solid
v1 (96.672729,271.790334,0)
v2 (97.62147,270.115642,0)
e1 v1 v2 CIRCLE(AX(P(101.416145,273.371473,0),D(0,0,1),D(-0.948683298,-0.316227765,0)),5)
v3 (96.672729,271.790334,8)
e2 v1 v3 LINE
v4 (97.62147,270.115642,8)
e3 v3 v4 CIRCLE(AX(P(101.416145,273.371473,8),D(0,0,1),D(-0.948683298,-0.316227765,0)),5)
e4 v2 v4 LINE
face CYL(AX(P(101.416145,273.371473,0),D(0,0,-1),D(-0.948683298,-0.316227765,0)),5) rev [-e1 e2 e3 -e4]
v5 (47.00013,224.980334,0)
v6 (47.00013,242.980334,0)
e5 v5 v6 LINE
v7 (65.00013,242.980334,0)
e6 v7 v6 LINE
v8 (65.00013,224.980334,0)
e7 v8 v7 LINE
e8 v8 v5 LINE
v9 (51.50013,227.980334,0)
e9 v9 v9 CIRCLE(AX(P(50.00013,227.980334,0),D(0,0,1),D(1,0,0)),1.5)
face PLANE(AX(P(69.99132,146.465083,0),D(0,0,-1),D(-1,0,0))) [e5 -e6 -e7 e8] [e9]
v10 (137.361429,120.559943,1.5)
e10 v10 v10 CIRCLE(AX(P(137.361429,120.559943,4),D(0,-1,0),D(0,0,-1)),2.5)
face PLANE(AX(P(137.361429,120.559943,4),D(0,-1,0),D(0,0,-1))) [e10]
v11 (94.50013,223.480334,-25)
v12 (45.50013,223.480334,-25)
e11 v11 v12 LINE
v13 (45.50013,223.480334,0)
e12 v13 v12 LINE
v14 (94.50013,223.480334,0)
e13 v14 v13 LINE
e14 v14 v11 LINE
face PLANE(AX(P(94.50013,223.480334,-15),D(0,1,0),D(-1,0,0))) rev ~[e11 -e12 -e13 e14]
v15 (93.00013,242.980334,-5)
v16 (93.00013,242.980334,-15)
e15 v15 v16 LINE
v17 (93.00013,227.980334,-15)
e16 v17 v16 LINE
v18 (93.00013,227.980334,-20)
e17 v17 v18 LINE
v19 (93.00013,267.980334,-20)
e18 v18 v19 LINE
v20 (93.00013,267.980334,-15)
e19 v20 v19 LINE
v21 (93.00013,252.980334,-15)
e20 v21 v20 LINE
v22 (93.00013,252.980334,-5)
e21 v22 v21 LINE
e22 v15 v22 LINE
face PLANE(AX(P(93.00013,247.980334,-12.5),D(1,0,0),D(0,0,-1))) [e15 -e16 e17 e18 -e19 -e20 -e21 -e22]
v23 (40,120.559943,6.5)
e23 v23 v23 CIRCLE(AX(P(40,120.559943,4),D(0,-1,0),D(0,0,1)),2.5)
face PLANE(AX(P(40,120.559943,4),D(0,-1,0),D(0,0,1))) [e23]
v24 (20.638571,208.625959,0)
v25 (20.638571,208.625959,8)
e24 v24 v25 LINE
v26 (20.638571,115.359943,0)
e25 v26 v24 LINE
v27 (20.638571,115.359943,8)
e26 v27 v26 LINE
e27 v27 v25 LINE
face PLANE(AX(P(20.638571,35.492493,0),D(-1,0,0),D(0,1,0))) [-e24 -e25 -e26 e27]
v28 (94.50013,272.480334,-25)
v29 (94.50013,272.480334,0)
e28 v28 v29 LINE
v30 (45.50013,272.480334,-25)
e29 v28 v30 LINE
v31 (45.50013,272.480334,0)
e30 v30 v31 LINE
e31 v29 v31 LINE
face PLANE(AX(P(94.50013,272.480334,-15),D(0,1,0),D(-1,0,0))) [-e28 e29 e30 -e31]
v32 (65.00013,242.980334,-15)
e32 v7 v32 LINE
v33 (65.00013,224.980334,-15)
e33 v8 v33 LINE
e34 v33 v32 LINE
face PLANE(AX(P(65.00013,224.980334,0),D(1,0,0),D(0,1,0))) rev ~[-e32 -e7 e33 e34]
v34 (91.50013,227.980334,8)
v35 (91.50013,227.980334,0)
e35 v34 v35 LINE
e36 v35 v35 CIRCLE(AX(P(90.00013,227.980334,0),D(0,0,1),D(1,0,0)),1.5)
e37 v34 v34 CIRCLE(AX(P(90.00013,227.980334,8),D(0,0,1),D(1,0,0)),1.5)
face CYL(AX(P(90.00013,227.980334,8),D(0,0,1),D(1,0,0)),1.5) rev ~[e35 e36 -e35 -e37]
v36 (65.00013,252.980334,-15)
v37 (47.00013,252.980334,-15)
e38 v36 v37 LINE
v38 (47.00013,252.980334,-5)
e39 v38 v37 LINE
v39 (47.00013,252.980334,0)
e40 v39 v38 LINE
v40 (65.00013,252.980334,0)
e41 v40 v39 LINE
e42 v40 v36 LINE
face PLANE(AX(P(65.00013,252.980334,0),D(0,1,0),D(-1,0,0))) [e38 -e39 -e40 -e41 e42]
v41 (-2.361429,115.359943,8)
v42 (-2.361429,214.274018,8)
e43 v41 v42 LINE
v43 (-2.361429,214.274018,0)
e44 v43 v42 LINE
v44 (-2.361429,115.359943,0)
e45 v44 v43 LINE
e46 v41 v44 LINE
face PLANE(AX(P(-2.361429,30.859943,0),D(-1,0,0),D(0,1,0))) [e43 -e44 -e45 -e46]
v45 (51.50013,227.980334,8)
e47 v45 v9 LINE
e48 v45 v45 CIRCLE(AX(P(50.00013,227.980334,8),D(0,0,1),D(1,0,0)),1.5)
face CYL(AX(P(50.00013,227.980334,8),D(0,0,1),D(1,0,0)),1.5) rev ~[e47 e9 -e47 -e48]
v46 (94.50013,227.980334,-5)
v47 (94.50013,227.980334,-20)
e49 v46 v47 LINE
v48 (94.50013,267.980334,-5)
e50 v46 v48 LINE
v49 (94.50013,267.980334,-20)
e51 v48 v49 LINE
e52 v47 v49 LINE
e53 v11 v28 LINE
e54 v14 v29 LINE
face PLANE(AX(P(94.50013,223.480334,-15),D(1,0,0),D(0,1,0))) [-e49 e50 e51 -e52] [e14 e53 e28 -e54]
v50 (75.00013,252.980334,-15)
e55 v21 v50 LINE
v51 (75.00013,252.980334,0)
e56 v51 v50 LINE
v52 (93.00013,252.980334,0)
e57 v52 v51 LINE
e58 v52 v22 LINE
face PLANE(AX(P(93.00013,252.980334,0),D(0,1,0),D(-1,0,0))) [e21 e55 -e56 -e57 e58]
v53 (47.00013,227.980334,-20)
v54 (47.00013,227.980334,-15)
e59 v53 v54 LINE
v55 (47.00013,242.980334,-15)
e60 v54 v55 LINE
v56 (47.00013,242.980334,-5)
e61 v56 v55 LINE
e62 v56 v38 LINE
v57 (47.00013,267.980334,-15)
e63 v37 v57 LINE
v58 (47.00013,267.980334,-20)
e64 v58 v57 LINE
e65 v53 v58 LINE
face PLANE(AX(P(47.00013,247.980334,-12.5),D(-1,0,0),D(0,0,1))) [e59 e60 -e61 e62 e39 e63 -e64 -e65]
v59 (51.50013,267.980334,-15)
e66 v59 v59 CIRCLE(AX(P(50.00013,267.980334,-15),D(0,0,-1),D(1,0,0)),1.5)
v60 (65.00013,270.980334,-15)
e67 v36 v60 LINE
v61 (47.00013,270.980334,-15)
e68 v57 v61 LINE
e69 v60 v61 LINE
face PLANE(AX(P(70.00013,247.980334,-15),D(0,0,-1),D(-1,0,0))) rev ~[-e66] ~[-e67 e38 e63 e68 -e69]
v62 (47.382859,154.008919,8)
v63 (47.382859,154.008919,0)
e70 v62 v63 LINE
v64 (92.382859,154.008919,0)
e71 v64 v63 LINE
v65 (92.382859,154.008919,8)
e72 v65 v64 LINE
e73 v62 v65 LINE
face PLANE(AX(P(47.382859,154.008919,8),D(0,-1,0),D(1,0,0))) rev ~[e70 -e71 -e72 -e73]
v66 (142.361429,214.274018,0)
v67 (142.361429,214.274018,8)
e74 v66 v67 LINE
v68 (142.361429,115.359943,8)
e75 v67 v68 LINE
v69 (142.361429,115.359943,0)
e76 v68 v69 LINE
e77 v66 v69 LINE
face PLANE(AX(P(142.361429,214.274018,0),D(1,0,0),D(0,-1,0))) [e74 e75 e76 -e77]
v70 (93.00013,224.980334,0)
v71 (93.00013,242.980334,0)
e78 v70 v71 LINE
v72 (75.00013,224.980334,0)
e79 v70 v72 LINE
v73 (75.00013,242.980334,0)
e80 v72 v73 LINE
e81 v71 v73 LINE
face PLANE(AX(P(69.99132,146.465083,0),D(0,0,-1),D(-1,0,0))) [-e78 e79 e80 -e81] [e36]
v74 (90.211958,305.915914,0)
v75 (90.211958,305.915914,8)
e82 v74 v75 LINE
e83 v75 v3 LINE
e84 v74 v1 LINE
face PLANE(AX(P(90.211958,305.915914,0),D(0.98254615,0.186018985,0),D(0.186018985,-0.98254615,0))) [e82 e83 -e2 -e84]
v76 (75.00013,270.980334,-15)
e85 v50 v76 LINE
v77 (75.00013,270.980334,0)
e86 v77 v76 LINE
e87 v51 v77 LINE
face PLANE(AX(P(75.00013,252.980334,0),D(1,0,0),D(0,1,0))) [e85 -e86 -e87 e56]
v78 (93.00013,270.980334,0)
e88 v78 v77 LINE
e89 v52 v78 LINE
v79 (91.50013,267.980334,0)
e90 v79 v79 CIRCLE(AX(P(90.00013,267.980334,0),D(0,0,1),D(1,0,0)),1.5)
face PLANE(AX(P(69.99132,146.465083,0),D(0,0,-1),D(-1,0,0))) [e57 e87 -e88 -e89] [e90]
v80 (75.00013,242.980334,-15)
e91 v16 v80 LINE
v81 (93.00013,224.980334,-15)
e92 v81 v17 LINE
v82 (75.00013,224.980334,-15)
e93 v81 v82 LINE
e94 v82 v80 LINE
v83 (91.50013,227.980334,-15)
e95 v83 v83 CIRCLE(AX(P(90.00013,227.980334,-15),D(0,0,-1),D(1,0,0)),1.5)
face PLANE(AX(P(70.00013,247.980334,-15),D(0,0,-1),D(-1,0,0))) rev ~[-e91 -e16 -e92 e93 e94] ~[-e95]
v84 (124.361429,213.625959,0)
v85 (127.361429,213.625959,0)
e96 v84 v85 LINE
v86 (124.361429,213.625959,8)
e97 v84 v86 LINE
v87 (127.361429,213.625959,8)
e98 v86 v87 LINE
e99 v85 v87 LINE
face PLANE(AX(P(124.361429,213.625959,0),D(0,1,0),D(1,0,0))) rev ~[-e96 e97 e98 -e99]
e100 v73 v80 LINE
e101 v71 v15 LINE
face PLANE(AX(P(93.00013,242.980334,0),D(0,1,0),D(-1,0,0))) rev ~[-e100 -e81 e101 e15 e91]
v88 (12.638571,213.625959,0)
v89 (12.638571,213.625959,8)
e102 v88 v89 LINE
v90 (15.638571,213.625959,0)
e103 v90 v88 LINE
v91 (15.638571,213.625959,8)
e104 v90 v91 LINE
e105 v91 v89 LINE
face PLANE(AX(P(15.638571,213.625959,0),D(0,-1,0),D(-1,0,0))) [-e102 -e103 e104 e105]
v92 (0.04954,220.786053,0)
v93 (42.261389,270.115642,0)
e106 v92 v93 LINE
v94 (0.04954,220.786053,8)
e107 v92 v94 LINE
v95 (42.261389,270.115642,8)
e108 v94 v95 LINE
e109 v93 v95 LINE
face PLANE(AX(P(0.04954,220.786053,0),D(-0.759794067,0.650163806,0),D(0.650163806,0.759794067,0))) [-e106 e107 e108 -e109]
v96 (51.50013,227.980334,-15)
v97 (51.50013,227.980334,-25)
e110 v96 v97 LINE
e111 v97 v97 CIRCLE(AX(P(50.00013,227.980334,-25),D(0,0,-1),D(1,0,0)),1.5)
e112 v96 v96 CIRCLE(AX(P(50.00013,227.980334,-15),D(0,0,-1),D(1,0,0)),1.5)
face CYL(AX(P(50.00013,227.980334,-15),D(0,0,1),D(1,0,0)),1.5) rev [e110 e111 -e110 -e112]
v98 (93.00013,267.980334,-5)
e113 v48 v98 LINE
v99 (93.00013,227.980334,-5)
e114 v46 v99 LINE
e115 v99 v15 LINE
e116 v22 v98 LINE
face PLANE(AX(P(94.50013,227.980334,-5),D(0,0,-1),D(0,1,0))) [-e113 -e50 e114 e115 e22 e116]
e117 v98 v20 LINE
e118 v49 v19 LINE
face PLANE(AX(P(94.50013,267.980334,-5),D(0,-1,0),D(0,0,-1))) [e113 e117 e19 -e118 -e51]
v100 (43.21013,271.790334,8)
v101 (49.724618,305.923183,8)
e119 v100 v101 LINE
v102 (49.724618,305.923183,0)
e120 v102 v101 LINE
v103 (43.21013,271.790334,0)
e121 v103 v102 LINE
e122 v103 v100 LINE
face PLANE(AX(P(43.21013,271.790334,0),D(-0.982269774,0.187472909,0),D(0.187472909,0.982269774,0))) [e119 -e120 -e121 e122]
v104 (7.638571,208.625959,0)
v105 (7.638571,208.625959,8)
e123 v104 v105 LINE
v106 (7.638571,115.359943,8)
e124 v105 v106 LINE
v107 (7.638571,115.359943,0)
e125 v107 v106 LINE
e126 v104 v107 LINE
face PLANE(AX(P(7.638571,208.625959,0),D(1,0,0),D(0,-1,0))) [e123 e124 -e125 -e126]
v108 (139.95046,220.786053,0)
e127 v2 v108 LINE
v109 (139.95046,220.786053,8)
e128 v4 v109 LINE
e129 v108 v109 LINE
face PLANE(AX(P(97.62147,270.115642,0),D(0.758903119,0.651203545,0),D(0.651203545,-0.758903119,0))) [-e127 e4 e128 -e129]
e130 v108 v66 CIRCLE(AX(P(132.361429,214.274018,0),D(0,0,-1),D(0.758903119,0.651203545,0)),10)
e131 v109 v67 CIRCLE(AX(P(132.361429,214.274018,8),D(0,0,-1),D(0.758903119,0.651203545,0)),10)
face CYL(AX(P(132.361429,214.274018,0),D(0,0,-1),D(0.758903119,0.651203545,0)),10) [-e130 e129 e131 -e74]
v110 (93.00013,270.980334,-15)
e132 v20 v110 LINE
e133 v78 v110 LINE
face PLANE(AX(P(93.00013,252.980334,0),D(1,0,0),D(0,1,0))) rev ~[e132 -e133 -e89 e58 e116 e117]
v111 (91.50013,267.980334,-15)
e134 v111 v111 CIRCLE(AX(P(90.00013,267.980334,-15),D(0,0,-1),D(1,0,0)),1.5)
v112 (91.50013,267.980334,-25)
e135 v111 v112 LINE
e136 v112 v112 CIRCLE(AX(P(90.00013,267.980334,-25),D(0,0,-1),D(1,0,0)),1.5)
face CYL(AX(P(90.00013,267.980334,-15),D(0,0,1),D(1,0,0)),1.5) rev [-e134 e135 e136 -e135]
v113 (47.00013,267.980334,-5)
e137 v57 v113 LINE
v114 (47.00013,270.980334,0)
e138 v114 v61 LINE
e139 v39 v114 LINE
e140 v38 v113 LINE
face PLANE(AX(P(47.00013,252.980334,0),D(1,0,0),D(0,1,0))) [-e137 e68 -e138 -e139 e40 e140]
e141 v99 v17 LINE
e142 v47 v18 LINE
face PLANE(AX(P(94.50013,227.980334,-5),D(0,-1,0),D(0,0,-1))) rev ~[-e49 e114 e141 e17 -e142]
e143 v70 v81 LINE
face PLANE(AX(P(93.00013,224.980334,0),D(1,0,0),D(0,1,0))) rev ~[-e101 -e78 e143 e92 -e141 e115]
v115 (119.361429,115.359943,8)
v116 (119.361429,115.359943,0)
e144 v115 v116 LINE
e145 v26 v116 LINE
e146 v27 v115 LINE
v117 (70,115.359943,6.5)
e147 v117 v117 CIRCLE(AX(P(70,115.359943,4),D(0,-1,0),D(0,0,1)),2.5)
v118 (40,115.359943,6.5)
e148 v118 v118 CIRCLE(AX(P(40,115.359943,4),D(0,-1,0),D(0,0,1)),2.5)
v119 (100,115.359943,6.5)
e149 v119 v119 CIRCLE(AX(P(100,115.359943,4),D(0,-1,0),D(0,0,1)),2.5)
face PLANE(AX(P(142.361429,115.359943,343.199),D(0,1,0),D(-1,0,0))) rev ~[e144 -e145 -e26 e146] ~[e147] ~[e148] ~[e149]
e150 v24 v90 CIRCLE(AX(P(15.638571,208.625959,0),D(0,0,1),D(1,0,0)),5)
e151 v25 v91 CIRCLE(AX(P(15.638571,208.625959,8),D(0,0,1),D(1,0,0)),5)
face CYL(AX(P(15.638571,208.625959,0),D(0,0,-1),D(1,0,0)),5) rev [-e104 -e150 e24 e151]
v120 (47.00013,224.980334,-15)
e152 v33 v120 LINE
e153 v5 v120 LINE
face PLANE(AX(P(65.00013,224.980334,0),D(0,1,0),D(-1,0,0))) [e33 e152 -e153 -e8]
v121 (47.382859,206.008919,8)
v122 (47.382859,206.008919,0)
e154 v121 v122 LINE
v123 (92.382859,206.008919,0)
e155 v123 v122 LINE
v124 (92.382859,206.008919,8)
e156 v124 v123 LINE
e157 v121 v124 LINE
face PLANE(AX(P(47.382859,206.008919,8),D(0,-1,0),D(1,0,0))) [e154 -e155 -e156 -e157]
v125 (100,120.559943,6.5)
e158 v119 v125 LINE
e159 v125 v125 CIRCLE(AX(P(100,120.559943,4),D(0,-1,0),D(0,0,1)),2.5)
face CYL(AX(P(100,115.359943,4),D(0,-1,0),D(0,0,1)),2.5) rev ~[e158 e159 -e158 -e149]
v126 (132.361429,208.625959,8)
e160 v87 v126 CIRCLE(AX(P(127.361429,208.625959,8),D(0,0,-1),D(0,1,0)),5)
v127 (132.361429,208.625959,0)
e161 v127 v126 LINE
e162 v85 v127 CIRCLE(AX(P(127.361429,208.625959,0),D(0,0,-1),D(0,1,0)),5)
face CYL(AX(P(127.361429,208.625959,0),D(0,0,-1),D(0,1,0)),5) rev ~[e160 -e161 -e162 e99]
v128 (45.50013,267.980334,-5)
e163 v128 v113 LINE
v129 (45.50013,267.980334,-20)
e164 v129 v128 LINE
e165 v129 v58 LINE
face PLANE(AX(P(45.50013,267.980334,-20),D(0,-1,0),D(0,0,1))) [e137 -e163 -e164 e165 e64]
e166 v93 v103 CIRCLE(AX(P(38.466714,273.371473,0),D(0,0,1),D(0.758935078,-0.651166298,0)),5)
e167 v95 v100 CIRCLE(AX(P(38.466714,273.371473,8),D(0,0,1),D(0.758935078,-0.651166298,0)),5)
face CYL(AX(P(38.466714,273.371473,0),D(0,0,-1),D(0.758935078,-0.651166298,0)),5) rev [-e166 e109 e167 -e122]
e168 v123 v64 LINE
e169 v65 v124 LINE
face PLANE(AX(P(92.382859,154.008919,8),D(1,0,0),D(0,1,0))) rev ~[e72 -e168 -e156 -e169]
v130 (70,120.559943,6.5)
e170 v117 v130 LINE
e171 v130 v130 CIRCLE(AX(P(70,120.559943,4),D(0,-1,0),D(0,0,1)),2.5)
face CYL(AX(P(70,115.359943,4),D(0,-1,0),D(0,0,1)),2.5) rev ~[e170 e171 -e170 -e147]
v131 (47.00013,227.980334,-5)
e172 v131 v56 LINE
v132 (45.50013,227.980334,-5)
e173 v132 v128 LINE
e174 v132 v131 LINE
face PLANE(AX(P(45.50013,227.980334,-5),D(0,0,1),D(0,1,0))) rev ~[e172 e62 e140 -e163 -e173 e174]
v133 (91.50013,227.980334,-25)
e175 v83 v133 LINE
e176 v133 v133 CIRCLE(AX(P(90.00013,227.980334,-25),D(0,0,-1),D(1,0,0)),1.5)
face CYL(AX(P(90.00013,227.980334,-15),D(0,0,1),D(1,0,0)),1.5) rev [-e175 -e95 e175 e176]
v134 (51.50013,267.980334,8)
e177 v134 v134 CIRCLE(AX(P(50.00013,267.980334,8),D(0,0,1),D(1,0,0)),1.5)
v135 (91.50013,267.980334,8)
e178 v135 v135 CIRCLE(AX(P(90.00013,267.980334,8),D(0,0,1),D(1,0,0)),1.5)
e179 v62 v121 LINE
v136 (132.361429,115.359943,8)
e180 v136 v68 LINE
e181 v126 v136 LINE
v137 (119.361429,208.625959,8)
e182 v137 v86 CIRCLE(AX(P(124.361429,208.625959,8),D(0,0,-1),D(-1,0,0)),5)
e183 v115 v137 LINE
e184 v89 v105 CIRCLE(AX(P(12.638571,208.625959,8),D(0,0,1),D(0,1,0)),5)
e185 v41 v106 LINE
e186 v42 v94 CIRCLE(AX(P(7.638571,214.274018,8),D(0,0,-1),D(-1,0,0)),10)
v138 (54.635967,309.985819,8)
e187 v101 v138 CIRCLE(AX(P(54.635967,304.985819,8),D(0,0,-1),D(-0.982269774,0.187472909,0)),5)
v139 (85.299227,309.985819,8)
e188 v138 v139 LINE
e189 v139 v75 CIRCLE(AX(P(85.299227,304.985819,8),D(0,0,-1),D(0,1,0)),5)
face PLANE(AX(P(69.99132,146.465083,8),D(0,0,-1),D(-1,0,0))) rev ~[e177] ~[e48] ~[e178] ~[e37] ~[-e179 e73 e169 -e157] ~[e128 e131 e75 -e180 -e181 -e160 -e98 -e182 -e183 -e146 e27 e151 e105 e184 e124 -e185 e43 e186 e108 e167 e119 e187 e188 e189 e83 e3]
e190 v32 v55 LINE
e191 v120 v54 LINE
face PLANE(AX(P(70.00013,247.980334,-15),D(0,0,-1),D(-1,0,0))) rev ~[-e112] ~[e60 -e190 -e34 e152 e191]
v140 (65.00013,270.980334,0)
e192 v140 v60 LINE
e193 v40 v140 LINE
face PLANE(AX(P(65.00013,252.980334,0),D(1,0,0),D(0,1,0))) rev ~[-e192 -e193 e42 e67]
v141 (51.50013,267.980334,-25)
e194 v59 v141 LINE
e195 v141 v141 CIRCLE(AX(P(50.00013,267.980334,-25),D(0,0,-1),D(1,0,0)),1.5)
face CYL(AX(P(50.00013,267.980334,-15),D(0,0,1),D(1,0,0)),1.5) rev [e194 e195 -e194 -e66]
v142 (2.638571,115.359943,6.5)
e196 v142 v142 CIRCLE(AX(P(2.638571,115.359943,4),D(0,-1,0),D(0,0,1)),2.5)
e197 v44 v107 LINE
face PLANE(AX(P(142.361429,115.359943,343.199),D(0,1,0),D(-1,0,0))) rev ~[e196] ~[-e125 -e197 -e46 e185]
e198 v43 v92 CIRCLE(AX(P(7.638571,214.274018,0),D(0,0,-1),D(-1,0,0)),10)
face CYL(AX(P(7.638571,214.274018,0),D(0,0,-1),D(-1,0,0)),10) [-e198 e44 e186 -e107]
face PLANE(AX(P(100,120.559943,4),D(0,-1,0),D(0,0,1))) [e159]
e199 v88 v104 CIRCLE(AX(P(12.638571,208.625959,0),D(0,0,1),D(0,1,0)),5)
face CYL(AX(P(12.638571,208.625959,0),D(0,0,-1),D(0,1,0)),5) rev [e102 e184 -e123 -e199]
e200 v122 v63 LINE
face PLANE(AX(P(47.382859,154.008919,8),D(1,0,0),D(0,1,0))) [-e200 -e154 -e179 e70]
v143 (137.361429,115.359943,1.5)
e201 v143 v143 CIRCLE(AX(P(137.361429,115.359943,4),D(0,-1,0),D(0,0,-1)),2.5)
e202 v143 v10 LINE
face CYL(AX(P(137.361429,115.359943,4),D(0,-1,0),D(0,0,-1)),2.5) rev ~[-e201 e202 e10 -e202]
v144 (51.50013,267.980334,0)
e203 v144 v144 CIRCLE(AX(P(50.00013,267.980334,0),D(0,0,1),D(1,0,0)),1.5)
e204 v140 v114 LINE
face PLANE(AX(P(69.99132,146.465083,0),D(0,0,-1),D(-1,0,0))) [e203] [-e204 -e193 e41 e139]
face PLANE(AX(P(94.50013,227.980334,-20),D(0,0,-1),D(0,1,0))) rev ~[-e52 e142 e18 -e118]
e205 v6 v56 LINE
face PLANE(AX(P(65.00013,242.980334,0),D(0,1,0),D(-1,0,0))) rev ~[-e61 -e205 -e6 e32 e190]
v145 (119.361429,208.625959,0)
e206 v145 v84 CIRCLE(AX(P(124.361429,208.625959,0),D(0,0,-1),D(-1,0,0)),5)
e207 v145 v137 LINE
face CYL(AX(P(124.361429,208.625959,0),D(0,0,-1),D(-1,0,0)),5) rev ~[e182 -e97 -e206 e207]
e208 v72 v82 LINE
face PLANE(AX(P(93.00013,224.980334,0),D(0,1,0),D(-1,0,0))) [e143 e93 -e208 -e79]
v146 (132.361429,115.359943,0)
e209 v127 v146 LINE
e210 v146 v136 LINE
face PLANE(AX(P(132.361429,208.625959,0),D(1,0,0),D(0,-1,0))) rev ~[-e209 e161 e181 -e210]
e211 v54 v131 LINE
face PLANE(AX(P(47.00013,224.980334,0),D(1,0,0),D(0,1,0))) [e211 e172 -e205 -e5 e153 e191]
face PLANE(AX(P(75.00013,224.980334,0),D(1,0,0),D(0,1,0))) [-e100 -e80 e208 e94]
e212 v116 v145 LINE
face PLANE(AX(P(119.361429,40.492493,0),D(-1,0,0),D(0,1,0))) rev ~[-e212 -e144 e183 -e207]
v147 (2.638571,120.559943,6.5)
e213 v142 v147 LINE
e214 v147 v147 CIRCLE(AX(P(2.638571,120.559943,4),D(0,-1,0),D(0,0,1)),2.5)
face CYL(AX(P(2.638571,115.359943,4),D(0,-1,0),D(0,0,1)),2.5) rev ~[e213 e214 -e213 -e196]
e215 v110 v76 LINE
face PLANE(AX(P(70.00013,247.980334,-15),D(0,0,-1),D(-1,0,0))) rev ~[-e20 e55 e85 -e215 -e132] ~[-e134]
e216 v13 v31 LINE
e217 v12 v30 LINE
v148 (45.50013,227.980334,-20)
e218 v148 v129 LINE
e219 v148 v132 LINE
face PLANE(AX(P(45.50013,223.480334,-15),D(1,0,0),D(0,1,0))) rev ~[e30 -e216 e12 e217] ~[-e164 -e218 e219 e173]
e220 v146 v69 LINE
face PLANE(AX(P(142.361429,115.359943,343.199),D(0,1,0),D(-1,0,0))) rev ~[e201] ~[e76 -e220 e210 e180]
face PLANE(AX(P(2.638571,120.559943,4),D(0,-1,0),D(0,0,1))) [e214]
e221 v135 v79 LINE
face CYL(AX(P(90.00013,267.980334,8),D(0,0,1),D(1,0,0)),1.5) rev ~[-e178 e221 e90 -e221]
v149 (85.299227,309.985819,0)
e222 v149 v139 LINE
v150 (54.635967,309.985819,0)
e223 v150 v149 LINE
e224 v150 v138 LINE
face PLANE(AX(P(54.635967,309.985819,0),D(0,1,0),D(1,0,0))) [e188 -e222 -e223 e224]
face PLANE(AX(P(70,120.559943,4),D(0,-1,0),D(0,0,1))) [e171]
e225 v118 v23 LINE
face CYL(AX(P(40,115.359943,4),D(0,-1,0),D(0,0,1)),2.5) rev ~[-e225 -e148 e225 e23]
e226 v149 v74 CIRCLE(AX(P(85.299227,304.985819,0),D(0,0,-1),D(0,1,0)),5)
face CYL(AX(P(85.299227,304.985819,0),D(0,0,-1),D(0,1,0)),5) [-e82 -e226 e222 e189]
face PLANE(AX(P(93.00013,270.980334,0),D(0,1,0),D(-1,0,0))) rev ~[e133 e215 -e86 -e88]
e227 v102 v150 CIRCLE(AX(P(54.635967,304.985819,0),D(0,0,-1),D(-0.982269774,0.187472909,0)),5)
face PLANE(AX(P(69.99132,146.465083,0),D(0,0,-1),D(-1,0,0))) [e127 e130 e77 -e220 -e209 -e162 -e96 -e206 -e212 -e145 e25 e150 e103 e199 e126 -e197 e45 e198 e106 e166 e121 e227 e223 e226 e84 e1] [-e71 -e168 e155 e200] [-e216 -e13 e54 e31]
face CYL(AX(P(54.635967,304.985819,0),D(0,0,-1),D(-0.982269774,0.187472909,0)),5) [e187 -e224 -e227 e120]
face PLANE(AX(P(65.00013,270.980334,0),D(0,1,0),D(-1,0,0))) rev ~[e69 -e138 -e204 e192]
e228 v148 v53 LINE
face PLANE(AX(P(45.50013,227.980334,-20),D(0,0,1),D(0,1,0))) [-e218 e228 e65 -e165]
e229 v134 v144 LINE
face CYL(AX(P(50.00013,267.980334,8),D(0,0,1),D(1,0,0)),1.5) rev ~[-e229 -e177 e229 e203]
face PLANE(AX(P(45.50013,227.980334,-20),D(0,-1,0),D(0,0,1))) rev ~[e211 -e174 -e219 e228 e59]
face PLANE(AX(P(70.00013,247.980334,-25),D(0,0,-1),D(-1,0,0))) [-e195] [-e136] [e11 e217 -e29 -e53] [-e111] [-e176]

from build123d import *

# Parameters (mm, degrees)
BOSS_EXTRUDE1_DEPTH    = 8
SKETCH2_W              = 45
SKETCH2_H              = 52
CUT_EXTRUDE1_DEPTH     = 342.206659287
SPLIT1_SURFACE_1_BACK  = 343.199
SPLIT1_SURFACE_1_DEPTH = 686.398
SPLIT1_SURFACE_2_BACK  = 343.199
SPLIT1_SURFACE_2_DEPTH = 686.398
SKETCH5_R              = 2.5
CUT_EXTRUDE6_DEPTH     = 5.2
SKETCH4_R              = 2.5
CUT_EXTRUDE7_DEPTH     = 5.2
SKETCH6_R              = 1.5
CUT_EXTRUDE8_DEPTH     = 342.206659287
SKETCH7_W              = 49
SKETCH7_H              = 49
SKETCH7_W_2            = 18
SKETCH7_H_2            = 18
BOSS_EXTRUDE2_DEPTH    = 15
SKETCH8_W              = 49
SKETCH8_H              = 49
SKETCH8_R              = 1.5
BOSS_EXTRUDE3_DEPTH    = 10
SKETCH9_W              = 15
SKETCH9_H              = 40
CUT_EXTRUDE9_DEPTH     = 1.5
SKETCH11_W             = 15
SKETCH11_H             = 40
CUT_EXTRUDE10_DEPTH    = 1.5


with BuildPart() as part:
    # Sketch1 → Boss-Extrude1 (new body)
    with BuildSketch(Plane.XY):
        with BuildLine():
            Line((70, 309.985818768), (85.299227191, 309.985818768))
            ThreePointArc((85.299227191, 309.985818768), (88.489017574, 308.836174247), (90.211957942, 305.915913694))
            Line((90.211957942, 305.915913694), (96.672728921, 271.790334282))
            ThreePointArc((96.672728921, 271.790334282), (97.06575438, 270.906904614), (97.621470019, 270.115641625))
            Line((97.621470019, 270.115641625), (139.950460317, 220.786053348))
            ThreePointArc((139.950460317, 220.786053348), (141.739336996, 217.746026552), (142.361429131, 214.274017901))
            Line((142.361429131, 214.274017901), (142.361429131, 30.859943174))
            ThreePointArc((142.361429131, 30.859943174), (140.896963037, 27.324409268), (137.361429131, 25.859943174))
            Line((137.361429131, 25.859943174), (114.717190871, 25.782318449))
            ThreePointArc((114.717190871, 25.782318449), (112.681998989, 25.341726514), (111.002773989, 24.110332733))
            Line((111.002773989, 24.110332733), (89.38285929, 0))
            Line((89.38285929, 0), (50.5, 0))
            Line((50.5, 0), (28.997226011, 24.110332733))
            ThreePointArc((28.997226011, 24.110332733), (27.318001011, 25.341726514), (25.282809129, 25.782318449))
            Line((25.282809129, 25.782318449), (2.638570869, 25.859943174))
            ThreePointArc((2.638570869, 25.859943174), (-0.896963037, 27.324409268), (-2.361429131, 30.859943174))
            Line((-2.361429131, 30.859943174), (-2.361429131, 214.274017901))
            ThreePointArc((-2.361429131, 214.274017901), (-1.739336996, 217.746026552), (0.049539683, 220.786053348))
            Line((0.049539683, 220.786053348), (42.261389271, 270.115641625))
            ThreePointArc((42.261389271, 270.115641625), (42.81710491, 270.906904614), (43.210130369, 271.790334282))
            Line((43.210130369, 271.790334282), (49.724618218, 305.923183314))
            ThreePointArc((49.724618218, 305.923183314), (51.449026762, 308.838533573), (54.635967087, 309.985818768))
            Line((54.635967087, 309.985818768), (70, 309.985818768))
        make_face()
        with BuildLine():
            Line((7.638570869, 35.492492662), (20.638570869, 35.492492662))
            Line((20.638570869, 35.492492662), (20.638570869, 208.625959477))
            ThreePointArc((20.638570869, 208.625959477), (19.174104775, 212.161493383), (15.638570869, 213.625959477))
            Line((15.638570869, 213.625959477), (12.638570869, 213.625959477))
            ThreePointArc((12.638570869, 213.625959477), (9.103036963, 212.161493383), (7.638570869, 208.625959477))
            Line((7.638570869, 208.625959477), (7.638570869, 35.492492662))
        make_face(mode=Mode.SUBTRACT)
        with BuildLine():
            Line((127.361429131, 35.492492662), (124.361429131, 35.492492662))
            ThreePointArc((124.361429131, 35.492492662), (120.825895225, 36.956958756), (119.361429131, 40.492492662))
            Line((119.361429131, 40.492492662), (119.361429131, 208.625959477))
            ThreePointArc((119.361429131, 208.625959477), (120.825895225, 212.161493383), (124.361429131, 213.625959477))
            Line((124.361429131, 213.625959477), (127.361429131, 213.625959477))
            ThreePointArc((127.361429131, 213.625959477), (130.896963037, 212.161493383), (132.361429131, 208.625959477))
            Line((132.361429131, 208.625959477), (132.361429131, 40.492492662))
            ThreePointArc((132.361429131, 40.492492662), (130.896963037, 36.956958756), (127.361429131, 35.492492662))
        make_face(mode=Mode.SUBTRACT)
    extrude(amount=BOSS_EXTRUDE1_DEPTH)

    # Sketch2 → Cut-Extrude1 (cut, through all)
    with BuildSketch(Plane.XY.offset(8)):
        with Locations((69.88285929, 180.008918923)):
            Rectangle(SKETCH2_W, SKETCH2_H)
    extrude(amount=-CUT_EXTRUDE1_DEPTH, mode=Mode.SUBTRACT)


with BuildPart() as body_2:
    # Split1: the piece behind the surface
    add(part.part)
    # Split1 surface: a surface, the sketch's curves swept straight by 686.398 mm
    with BuildLine(Plane(origin=(0, 0, 0), x_dir=(-1, 0, 0), z_dir=(0, 0, -1)).offset(-SPLIT1_SURFACE_1_BACK), mode=Mode.PRIVATE) as split1_surface_1_path:
        Line((-142.361429131, 115.359943174), (2.361429131, 115.359943174))
    split1_surface_1 = Shell.extrude(split1_surface_1_path.wire(), (0 * SPLIT1_SURFACE_1_DEPTH, 0 * SPLIT1_SURFACE_1_DEPTH, -1 * SPLIT1_SURFACE_1_DEPTH))
    split(bisect_by=split1_surface_1, keep=Keep.BOTTOM)

    # Sketch5 → Cut-Extrude6 (cut)
    with BuildSketch(Plane(origin=(0, 115.359943174, -115.359943174), x_dir=(1, 0, 0), z_dir=(0, -1, 0))):
        with Locations(Location((70, 119.359943174, 0), (0, 0, 270))):
            Circle(SKETCH5_R)
        with Locations(Location((40, 119.359943174, 0), (0, 0, 270))):
            Circle(SKETCH5_R)
        with Locations(Location((2.638570869, 119.359943174, 0), (0, 0, 270))):
            Circle(SKETCH5_R)
    extrude(amount=CUT_EXTRUDE6_DEPTH, mode=Mode.SUBTRACT)


with BuildPart() as part_1:
    add(part.part)

    # Split1: split by a surface, the side it looks to stays
    # Split1 surface: a surface, the sketch's curves swept straight by 686.398 mm
    with BuildLine(Plane(origin=(0, 0, 0), x_dir=(-1, 0, 0), z_dir=(0, 0, -1)).offset(-SPLIT1_SURFACE_2_BACK), mode=Mode.PRIVATE) as split1_surface_2_path:
        Line((-142.361429131, 115.359943174), (2.361429131, 115.359943174))
    split1_surface_2 = Shell.extrude(split1_surface_2_path.wire(), (0 * SPLIT1_SURFACE_2_DEPTH, 0 * SPLIT1_SURFACE_2_DEPTH, -1 * SPLIT1_SURFACE_2_DEPTH))
    split(bisect_by=split1_surface_2, keep=Keep.TOP)

    # Sketch4 → Cut-Extrude7 (cut)
    with BuildSketch(Plane(origin=(0, 115.359943174, 0), x_dir=(-1, 0, 0), z_dir=(0, -1, 0))):
        with Locations(Location((-70, -4, 0), (0, 0, 270))):
            Circle(SKETCH4_R)
        with Locations(Location((-40, -4, 0), (0, 0, 270))):
            Circle(SKETCH4_R)
        with Locations(Location((-100, -4, 0), (0, 0, 270))):
            Circle(SKETCH4_R)
        with Locations(Location((-137.361429131, -4, 0), (0, 0, 90))):
            Circle(SKETCH4_R)
        with Locations(Location((-2.638570869, -4, 0), (0, 0, 270))):
            Circle(SKETCH4_R)
    extrude(amount=-CUT_EXTRUDE7_DEPTH, mode=Mode.SUBTRACT)

    # Sketch6 → Cut-Extrude8 (cut, through all)
    with BuildSketch(Plane.XY.offset(8)):
        with Locations((50.000130369, 267.980334282)):
            Circle(SKETCH6_R)
        with Locations((90.000130369, 267.980334282)):
            Circle(SKETCH6_R)
        with Locations((90.000130369, 227.980334282)):
            Circle(SKETCH6_R)
        with Locations((50.000130369, 227.980334282)):
            Circle(SKETCH6_R)
    extrude(amount=-CUT_EXTRUDE8_DEPTH, mode=Mode.SUBTRACT)

    # Sketch7 → Boss-Extrude2 (add)
    with BuildSketch(Plane(origin=(0, 0, 0), x_dir=(-1, 0, 0), z_dir=(0, 0, -1))):
        with Locations((-70.000130369, 247.980334282)):
            Rectangle(SKETCH7_W, SKETCH7_H)
        with Locations((-56.000130369, 261.980334282)):
            Rectangle(SKETCH7_W_2, SKETCH7_H_2, mode=Mode.SUBTRACT)
        with Locations((-84.000130369, 261.980334282)):
            Rectangle(SKETCH7_W_2, SKETCH7_H_2, mode=Mode.SUBTRACT)
        with Locations((-84.000130369, 233.980334282)):
            Rectangle(SKETCH7_W_2, SKETCH7_H_2, mode=Mode.SUBTRACT)
        with Locations((-56.000130369, 233.980334282)):
            Rectangle(SKETCH7_W_2, SKETCH7_H_2, mode=Mode.SUBTRACT)
    extrude(amount=BOSS_EXTRUDE2_DEPTH)

    # Sketch8 → Boss-Extrude3 (add)
    with BuildSketch(Plane(origin=(0, 0, -15), x_dir=(-1, 0, 0), z_dir=(0, 0, -1))):
        with Locations((-70.000130369, 247.980334282)):
            Rectangle(SKETCH8_W, SKETCH8_H)
        with Locations(Location((-50.000130369, 267.980334282, 0), (0, 0, 180))):
            Circle(SKETCH8_R, mode=Mode.SUBTRACT)
        with Locations(Location((-90.000130369, 267.980334282, 0), (0, 0, 180))):
            Circle(SKETCH8_R, mode=Mode.SUBTRACT)
        with Locations(Location((-50.000130369, 227.980334282, 0), (0, 0, 180))):
            Circle(SKETCH8_R, mode=Mode.SUBTRACT)
        with Locations(Location((-90.000130369, 227.980334282, 0), (0, 0, 180))):
            Circle(SKETCH8_R, mode=Mode.SUBTRACT)
    extrude(amount=BOSS_EXTRUDE3_DEPTH)

    # Sketch9 → Cut-Extrude9 (cut)
    with BuildSketch(Plane.ZY.offset(-45.500130369)):
        with Locations((-12.5, 247.980334282)):
            Rectangle(SKETCH9_W, SKETCH9_H)
    extrude(amount=-CUT_EXTRUDE9_DEPTH, mode=Mode.SUBTRACT)

    # Sketch11 → Cut-Extrude10 (cut)
    with BuildSketch(Plane(origin=(94.500130369, 0, 0), x_dir=(0, 0, -1), z_dir=(1, 0, 0))):
        with Locations((12.5, 247.980334282)):
            Rectangle(SKETCH11_W, SKETCH11_H)
    extrude(amount=-CUT_EXTRUDE10_DEPTH, mode=Mode.SUBTRACT)


solid = part_1.part
